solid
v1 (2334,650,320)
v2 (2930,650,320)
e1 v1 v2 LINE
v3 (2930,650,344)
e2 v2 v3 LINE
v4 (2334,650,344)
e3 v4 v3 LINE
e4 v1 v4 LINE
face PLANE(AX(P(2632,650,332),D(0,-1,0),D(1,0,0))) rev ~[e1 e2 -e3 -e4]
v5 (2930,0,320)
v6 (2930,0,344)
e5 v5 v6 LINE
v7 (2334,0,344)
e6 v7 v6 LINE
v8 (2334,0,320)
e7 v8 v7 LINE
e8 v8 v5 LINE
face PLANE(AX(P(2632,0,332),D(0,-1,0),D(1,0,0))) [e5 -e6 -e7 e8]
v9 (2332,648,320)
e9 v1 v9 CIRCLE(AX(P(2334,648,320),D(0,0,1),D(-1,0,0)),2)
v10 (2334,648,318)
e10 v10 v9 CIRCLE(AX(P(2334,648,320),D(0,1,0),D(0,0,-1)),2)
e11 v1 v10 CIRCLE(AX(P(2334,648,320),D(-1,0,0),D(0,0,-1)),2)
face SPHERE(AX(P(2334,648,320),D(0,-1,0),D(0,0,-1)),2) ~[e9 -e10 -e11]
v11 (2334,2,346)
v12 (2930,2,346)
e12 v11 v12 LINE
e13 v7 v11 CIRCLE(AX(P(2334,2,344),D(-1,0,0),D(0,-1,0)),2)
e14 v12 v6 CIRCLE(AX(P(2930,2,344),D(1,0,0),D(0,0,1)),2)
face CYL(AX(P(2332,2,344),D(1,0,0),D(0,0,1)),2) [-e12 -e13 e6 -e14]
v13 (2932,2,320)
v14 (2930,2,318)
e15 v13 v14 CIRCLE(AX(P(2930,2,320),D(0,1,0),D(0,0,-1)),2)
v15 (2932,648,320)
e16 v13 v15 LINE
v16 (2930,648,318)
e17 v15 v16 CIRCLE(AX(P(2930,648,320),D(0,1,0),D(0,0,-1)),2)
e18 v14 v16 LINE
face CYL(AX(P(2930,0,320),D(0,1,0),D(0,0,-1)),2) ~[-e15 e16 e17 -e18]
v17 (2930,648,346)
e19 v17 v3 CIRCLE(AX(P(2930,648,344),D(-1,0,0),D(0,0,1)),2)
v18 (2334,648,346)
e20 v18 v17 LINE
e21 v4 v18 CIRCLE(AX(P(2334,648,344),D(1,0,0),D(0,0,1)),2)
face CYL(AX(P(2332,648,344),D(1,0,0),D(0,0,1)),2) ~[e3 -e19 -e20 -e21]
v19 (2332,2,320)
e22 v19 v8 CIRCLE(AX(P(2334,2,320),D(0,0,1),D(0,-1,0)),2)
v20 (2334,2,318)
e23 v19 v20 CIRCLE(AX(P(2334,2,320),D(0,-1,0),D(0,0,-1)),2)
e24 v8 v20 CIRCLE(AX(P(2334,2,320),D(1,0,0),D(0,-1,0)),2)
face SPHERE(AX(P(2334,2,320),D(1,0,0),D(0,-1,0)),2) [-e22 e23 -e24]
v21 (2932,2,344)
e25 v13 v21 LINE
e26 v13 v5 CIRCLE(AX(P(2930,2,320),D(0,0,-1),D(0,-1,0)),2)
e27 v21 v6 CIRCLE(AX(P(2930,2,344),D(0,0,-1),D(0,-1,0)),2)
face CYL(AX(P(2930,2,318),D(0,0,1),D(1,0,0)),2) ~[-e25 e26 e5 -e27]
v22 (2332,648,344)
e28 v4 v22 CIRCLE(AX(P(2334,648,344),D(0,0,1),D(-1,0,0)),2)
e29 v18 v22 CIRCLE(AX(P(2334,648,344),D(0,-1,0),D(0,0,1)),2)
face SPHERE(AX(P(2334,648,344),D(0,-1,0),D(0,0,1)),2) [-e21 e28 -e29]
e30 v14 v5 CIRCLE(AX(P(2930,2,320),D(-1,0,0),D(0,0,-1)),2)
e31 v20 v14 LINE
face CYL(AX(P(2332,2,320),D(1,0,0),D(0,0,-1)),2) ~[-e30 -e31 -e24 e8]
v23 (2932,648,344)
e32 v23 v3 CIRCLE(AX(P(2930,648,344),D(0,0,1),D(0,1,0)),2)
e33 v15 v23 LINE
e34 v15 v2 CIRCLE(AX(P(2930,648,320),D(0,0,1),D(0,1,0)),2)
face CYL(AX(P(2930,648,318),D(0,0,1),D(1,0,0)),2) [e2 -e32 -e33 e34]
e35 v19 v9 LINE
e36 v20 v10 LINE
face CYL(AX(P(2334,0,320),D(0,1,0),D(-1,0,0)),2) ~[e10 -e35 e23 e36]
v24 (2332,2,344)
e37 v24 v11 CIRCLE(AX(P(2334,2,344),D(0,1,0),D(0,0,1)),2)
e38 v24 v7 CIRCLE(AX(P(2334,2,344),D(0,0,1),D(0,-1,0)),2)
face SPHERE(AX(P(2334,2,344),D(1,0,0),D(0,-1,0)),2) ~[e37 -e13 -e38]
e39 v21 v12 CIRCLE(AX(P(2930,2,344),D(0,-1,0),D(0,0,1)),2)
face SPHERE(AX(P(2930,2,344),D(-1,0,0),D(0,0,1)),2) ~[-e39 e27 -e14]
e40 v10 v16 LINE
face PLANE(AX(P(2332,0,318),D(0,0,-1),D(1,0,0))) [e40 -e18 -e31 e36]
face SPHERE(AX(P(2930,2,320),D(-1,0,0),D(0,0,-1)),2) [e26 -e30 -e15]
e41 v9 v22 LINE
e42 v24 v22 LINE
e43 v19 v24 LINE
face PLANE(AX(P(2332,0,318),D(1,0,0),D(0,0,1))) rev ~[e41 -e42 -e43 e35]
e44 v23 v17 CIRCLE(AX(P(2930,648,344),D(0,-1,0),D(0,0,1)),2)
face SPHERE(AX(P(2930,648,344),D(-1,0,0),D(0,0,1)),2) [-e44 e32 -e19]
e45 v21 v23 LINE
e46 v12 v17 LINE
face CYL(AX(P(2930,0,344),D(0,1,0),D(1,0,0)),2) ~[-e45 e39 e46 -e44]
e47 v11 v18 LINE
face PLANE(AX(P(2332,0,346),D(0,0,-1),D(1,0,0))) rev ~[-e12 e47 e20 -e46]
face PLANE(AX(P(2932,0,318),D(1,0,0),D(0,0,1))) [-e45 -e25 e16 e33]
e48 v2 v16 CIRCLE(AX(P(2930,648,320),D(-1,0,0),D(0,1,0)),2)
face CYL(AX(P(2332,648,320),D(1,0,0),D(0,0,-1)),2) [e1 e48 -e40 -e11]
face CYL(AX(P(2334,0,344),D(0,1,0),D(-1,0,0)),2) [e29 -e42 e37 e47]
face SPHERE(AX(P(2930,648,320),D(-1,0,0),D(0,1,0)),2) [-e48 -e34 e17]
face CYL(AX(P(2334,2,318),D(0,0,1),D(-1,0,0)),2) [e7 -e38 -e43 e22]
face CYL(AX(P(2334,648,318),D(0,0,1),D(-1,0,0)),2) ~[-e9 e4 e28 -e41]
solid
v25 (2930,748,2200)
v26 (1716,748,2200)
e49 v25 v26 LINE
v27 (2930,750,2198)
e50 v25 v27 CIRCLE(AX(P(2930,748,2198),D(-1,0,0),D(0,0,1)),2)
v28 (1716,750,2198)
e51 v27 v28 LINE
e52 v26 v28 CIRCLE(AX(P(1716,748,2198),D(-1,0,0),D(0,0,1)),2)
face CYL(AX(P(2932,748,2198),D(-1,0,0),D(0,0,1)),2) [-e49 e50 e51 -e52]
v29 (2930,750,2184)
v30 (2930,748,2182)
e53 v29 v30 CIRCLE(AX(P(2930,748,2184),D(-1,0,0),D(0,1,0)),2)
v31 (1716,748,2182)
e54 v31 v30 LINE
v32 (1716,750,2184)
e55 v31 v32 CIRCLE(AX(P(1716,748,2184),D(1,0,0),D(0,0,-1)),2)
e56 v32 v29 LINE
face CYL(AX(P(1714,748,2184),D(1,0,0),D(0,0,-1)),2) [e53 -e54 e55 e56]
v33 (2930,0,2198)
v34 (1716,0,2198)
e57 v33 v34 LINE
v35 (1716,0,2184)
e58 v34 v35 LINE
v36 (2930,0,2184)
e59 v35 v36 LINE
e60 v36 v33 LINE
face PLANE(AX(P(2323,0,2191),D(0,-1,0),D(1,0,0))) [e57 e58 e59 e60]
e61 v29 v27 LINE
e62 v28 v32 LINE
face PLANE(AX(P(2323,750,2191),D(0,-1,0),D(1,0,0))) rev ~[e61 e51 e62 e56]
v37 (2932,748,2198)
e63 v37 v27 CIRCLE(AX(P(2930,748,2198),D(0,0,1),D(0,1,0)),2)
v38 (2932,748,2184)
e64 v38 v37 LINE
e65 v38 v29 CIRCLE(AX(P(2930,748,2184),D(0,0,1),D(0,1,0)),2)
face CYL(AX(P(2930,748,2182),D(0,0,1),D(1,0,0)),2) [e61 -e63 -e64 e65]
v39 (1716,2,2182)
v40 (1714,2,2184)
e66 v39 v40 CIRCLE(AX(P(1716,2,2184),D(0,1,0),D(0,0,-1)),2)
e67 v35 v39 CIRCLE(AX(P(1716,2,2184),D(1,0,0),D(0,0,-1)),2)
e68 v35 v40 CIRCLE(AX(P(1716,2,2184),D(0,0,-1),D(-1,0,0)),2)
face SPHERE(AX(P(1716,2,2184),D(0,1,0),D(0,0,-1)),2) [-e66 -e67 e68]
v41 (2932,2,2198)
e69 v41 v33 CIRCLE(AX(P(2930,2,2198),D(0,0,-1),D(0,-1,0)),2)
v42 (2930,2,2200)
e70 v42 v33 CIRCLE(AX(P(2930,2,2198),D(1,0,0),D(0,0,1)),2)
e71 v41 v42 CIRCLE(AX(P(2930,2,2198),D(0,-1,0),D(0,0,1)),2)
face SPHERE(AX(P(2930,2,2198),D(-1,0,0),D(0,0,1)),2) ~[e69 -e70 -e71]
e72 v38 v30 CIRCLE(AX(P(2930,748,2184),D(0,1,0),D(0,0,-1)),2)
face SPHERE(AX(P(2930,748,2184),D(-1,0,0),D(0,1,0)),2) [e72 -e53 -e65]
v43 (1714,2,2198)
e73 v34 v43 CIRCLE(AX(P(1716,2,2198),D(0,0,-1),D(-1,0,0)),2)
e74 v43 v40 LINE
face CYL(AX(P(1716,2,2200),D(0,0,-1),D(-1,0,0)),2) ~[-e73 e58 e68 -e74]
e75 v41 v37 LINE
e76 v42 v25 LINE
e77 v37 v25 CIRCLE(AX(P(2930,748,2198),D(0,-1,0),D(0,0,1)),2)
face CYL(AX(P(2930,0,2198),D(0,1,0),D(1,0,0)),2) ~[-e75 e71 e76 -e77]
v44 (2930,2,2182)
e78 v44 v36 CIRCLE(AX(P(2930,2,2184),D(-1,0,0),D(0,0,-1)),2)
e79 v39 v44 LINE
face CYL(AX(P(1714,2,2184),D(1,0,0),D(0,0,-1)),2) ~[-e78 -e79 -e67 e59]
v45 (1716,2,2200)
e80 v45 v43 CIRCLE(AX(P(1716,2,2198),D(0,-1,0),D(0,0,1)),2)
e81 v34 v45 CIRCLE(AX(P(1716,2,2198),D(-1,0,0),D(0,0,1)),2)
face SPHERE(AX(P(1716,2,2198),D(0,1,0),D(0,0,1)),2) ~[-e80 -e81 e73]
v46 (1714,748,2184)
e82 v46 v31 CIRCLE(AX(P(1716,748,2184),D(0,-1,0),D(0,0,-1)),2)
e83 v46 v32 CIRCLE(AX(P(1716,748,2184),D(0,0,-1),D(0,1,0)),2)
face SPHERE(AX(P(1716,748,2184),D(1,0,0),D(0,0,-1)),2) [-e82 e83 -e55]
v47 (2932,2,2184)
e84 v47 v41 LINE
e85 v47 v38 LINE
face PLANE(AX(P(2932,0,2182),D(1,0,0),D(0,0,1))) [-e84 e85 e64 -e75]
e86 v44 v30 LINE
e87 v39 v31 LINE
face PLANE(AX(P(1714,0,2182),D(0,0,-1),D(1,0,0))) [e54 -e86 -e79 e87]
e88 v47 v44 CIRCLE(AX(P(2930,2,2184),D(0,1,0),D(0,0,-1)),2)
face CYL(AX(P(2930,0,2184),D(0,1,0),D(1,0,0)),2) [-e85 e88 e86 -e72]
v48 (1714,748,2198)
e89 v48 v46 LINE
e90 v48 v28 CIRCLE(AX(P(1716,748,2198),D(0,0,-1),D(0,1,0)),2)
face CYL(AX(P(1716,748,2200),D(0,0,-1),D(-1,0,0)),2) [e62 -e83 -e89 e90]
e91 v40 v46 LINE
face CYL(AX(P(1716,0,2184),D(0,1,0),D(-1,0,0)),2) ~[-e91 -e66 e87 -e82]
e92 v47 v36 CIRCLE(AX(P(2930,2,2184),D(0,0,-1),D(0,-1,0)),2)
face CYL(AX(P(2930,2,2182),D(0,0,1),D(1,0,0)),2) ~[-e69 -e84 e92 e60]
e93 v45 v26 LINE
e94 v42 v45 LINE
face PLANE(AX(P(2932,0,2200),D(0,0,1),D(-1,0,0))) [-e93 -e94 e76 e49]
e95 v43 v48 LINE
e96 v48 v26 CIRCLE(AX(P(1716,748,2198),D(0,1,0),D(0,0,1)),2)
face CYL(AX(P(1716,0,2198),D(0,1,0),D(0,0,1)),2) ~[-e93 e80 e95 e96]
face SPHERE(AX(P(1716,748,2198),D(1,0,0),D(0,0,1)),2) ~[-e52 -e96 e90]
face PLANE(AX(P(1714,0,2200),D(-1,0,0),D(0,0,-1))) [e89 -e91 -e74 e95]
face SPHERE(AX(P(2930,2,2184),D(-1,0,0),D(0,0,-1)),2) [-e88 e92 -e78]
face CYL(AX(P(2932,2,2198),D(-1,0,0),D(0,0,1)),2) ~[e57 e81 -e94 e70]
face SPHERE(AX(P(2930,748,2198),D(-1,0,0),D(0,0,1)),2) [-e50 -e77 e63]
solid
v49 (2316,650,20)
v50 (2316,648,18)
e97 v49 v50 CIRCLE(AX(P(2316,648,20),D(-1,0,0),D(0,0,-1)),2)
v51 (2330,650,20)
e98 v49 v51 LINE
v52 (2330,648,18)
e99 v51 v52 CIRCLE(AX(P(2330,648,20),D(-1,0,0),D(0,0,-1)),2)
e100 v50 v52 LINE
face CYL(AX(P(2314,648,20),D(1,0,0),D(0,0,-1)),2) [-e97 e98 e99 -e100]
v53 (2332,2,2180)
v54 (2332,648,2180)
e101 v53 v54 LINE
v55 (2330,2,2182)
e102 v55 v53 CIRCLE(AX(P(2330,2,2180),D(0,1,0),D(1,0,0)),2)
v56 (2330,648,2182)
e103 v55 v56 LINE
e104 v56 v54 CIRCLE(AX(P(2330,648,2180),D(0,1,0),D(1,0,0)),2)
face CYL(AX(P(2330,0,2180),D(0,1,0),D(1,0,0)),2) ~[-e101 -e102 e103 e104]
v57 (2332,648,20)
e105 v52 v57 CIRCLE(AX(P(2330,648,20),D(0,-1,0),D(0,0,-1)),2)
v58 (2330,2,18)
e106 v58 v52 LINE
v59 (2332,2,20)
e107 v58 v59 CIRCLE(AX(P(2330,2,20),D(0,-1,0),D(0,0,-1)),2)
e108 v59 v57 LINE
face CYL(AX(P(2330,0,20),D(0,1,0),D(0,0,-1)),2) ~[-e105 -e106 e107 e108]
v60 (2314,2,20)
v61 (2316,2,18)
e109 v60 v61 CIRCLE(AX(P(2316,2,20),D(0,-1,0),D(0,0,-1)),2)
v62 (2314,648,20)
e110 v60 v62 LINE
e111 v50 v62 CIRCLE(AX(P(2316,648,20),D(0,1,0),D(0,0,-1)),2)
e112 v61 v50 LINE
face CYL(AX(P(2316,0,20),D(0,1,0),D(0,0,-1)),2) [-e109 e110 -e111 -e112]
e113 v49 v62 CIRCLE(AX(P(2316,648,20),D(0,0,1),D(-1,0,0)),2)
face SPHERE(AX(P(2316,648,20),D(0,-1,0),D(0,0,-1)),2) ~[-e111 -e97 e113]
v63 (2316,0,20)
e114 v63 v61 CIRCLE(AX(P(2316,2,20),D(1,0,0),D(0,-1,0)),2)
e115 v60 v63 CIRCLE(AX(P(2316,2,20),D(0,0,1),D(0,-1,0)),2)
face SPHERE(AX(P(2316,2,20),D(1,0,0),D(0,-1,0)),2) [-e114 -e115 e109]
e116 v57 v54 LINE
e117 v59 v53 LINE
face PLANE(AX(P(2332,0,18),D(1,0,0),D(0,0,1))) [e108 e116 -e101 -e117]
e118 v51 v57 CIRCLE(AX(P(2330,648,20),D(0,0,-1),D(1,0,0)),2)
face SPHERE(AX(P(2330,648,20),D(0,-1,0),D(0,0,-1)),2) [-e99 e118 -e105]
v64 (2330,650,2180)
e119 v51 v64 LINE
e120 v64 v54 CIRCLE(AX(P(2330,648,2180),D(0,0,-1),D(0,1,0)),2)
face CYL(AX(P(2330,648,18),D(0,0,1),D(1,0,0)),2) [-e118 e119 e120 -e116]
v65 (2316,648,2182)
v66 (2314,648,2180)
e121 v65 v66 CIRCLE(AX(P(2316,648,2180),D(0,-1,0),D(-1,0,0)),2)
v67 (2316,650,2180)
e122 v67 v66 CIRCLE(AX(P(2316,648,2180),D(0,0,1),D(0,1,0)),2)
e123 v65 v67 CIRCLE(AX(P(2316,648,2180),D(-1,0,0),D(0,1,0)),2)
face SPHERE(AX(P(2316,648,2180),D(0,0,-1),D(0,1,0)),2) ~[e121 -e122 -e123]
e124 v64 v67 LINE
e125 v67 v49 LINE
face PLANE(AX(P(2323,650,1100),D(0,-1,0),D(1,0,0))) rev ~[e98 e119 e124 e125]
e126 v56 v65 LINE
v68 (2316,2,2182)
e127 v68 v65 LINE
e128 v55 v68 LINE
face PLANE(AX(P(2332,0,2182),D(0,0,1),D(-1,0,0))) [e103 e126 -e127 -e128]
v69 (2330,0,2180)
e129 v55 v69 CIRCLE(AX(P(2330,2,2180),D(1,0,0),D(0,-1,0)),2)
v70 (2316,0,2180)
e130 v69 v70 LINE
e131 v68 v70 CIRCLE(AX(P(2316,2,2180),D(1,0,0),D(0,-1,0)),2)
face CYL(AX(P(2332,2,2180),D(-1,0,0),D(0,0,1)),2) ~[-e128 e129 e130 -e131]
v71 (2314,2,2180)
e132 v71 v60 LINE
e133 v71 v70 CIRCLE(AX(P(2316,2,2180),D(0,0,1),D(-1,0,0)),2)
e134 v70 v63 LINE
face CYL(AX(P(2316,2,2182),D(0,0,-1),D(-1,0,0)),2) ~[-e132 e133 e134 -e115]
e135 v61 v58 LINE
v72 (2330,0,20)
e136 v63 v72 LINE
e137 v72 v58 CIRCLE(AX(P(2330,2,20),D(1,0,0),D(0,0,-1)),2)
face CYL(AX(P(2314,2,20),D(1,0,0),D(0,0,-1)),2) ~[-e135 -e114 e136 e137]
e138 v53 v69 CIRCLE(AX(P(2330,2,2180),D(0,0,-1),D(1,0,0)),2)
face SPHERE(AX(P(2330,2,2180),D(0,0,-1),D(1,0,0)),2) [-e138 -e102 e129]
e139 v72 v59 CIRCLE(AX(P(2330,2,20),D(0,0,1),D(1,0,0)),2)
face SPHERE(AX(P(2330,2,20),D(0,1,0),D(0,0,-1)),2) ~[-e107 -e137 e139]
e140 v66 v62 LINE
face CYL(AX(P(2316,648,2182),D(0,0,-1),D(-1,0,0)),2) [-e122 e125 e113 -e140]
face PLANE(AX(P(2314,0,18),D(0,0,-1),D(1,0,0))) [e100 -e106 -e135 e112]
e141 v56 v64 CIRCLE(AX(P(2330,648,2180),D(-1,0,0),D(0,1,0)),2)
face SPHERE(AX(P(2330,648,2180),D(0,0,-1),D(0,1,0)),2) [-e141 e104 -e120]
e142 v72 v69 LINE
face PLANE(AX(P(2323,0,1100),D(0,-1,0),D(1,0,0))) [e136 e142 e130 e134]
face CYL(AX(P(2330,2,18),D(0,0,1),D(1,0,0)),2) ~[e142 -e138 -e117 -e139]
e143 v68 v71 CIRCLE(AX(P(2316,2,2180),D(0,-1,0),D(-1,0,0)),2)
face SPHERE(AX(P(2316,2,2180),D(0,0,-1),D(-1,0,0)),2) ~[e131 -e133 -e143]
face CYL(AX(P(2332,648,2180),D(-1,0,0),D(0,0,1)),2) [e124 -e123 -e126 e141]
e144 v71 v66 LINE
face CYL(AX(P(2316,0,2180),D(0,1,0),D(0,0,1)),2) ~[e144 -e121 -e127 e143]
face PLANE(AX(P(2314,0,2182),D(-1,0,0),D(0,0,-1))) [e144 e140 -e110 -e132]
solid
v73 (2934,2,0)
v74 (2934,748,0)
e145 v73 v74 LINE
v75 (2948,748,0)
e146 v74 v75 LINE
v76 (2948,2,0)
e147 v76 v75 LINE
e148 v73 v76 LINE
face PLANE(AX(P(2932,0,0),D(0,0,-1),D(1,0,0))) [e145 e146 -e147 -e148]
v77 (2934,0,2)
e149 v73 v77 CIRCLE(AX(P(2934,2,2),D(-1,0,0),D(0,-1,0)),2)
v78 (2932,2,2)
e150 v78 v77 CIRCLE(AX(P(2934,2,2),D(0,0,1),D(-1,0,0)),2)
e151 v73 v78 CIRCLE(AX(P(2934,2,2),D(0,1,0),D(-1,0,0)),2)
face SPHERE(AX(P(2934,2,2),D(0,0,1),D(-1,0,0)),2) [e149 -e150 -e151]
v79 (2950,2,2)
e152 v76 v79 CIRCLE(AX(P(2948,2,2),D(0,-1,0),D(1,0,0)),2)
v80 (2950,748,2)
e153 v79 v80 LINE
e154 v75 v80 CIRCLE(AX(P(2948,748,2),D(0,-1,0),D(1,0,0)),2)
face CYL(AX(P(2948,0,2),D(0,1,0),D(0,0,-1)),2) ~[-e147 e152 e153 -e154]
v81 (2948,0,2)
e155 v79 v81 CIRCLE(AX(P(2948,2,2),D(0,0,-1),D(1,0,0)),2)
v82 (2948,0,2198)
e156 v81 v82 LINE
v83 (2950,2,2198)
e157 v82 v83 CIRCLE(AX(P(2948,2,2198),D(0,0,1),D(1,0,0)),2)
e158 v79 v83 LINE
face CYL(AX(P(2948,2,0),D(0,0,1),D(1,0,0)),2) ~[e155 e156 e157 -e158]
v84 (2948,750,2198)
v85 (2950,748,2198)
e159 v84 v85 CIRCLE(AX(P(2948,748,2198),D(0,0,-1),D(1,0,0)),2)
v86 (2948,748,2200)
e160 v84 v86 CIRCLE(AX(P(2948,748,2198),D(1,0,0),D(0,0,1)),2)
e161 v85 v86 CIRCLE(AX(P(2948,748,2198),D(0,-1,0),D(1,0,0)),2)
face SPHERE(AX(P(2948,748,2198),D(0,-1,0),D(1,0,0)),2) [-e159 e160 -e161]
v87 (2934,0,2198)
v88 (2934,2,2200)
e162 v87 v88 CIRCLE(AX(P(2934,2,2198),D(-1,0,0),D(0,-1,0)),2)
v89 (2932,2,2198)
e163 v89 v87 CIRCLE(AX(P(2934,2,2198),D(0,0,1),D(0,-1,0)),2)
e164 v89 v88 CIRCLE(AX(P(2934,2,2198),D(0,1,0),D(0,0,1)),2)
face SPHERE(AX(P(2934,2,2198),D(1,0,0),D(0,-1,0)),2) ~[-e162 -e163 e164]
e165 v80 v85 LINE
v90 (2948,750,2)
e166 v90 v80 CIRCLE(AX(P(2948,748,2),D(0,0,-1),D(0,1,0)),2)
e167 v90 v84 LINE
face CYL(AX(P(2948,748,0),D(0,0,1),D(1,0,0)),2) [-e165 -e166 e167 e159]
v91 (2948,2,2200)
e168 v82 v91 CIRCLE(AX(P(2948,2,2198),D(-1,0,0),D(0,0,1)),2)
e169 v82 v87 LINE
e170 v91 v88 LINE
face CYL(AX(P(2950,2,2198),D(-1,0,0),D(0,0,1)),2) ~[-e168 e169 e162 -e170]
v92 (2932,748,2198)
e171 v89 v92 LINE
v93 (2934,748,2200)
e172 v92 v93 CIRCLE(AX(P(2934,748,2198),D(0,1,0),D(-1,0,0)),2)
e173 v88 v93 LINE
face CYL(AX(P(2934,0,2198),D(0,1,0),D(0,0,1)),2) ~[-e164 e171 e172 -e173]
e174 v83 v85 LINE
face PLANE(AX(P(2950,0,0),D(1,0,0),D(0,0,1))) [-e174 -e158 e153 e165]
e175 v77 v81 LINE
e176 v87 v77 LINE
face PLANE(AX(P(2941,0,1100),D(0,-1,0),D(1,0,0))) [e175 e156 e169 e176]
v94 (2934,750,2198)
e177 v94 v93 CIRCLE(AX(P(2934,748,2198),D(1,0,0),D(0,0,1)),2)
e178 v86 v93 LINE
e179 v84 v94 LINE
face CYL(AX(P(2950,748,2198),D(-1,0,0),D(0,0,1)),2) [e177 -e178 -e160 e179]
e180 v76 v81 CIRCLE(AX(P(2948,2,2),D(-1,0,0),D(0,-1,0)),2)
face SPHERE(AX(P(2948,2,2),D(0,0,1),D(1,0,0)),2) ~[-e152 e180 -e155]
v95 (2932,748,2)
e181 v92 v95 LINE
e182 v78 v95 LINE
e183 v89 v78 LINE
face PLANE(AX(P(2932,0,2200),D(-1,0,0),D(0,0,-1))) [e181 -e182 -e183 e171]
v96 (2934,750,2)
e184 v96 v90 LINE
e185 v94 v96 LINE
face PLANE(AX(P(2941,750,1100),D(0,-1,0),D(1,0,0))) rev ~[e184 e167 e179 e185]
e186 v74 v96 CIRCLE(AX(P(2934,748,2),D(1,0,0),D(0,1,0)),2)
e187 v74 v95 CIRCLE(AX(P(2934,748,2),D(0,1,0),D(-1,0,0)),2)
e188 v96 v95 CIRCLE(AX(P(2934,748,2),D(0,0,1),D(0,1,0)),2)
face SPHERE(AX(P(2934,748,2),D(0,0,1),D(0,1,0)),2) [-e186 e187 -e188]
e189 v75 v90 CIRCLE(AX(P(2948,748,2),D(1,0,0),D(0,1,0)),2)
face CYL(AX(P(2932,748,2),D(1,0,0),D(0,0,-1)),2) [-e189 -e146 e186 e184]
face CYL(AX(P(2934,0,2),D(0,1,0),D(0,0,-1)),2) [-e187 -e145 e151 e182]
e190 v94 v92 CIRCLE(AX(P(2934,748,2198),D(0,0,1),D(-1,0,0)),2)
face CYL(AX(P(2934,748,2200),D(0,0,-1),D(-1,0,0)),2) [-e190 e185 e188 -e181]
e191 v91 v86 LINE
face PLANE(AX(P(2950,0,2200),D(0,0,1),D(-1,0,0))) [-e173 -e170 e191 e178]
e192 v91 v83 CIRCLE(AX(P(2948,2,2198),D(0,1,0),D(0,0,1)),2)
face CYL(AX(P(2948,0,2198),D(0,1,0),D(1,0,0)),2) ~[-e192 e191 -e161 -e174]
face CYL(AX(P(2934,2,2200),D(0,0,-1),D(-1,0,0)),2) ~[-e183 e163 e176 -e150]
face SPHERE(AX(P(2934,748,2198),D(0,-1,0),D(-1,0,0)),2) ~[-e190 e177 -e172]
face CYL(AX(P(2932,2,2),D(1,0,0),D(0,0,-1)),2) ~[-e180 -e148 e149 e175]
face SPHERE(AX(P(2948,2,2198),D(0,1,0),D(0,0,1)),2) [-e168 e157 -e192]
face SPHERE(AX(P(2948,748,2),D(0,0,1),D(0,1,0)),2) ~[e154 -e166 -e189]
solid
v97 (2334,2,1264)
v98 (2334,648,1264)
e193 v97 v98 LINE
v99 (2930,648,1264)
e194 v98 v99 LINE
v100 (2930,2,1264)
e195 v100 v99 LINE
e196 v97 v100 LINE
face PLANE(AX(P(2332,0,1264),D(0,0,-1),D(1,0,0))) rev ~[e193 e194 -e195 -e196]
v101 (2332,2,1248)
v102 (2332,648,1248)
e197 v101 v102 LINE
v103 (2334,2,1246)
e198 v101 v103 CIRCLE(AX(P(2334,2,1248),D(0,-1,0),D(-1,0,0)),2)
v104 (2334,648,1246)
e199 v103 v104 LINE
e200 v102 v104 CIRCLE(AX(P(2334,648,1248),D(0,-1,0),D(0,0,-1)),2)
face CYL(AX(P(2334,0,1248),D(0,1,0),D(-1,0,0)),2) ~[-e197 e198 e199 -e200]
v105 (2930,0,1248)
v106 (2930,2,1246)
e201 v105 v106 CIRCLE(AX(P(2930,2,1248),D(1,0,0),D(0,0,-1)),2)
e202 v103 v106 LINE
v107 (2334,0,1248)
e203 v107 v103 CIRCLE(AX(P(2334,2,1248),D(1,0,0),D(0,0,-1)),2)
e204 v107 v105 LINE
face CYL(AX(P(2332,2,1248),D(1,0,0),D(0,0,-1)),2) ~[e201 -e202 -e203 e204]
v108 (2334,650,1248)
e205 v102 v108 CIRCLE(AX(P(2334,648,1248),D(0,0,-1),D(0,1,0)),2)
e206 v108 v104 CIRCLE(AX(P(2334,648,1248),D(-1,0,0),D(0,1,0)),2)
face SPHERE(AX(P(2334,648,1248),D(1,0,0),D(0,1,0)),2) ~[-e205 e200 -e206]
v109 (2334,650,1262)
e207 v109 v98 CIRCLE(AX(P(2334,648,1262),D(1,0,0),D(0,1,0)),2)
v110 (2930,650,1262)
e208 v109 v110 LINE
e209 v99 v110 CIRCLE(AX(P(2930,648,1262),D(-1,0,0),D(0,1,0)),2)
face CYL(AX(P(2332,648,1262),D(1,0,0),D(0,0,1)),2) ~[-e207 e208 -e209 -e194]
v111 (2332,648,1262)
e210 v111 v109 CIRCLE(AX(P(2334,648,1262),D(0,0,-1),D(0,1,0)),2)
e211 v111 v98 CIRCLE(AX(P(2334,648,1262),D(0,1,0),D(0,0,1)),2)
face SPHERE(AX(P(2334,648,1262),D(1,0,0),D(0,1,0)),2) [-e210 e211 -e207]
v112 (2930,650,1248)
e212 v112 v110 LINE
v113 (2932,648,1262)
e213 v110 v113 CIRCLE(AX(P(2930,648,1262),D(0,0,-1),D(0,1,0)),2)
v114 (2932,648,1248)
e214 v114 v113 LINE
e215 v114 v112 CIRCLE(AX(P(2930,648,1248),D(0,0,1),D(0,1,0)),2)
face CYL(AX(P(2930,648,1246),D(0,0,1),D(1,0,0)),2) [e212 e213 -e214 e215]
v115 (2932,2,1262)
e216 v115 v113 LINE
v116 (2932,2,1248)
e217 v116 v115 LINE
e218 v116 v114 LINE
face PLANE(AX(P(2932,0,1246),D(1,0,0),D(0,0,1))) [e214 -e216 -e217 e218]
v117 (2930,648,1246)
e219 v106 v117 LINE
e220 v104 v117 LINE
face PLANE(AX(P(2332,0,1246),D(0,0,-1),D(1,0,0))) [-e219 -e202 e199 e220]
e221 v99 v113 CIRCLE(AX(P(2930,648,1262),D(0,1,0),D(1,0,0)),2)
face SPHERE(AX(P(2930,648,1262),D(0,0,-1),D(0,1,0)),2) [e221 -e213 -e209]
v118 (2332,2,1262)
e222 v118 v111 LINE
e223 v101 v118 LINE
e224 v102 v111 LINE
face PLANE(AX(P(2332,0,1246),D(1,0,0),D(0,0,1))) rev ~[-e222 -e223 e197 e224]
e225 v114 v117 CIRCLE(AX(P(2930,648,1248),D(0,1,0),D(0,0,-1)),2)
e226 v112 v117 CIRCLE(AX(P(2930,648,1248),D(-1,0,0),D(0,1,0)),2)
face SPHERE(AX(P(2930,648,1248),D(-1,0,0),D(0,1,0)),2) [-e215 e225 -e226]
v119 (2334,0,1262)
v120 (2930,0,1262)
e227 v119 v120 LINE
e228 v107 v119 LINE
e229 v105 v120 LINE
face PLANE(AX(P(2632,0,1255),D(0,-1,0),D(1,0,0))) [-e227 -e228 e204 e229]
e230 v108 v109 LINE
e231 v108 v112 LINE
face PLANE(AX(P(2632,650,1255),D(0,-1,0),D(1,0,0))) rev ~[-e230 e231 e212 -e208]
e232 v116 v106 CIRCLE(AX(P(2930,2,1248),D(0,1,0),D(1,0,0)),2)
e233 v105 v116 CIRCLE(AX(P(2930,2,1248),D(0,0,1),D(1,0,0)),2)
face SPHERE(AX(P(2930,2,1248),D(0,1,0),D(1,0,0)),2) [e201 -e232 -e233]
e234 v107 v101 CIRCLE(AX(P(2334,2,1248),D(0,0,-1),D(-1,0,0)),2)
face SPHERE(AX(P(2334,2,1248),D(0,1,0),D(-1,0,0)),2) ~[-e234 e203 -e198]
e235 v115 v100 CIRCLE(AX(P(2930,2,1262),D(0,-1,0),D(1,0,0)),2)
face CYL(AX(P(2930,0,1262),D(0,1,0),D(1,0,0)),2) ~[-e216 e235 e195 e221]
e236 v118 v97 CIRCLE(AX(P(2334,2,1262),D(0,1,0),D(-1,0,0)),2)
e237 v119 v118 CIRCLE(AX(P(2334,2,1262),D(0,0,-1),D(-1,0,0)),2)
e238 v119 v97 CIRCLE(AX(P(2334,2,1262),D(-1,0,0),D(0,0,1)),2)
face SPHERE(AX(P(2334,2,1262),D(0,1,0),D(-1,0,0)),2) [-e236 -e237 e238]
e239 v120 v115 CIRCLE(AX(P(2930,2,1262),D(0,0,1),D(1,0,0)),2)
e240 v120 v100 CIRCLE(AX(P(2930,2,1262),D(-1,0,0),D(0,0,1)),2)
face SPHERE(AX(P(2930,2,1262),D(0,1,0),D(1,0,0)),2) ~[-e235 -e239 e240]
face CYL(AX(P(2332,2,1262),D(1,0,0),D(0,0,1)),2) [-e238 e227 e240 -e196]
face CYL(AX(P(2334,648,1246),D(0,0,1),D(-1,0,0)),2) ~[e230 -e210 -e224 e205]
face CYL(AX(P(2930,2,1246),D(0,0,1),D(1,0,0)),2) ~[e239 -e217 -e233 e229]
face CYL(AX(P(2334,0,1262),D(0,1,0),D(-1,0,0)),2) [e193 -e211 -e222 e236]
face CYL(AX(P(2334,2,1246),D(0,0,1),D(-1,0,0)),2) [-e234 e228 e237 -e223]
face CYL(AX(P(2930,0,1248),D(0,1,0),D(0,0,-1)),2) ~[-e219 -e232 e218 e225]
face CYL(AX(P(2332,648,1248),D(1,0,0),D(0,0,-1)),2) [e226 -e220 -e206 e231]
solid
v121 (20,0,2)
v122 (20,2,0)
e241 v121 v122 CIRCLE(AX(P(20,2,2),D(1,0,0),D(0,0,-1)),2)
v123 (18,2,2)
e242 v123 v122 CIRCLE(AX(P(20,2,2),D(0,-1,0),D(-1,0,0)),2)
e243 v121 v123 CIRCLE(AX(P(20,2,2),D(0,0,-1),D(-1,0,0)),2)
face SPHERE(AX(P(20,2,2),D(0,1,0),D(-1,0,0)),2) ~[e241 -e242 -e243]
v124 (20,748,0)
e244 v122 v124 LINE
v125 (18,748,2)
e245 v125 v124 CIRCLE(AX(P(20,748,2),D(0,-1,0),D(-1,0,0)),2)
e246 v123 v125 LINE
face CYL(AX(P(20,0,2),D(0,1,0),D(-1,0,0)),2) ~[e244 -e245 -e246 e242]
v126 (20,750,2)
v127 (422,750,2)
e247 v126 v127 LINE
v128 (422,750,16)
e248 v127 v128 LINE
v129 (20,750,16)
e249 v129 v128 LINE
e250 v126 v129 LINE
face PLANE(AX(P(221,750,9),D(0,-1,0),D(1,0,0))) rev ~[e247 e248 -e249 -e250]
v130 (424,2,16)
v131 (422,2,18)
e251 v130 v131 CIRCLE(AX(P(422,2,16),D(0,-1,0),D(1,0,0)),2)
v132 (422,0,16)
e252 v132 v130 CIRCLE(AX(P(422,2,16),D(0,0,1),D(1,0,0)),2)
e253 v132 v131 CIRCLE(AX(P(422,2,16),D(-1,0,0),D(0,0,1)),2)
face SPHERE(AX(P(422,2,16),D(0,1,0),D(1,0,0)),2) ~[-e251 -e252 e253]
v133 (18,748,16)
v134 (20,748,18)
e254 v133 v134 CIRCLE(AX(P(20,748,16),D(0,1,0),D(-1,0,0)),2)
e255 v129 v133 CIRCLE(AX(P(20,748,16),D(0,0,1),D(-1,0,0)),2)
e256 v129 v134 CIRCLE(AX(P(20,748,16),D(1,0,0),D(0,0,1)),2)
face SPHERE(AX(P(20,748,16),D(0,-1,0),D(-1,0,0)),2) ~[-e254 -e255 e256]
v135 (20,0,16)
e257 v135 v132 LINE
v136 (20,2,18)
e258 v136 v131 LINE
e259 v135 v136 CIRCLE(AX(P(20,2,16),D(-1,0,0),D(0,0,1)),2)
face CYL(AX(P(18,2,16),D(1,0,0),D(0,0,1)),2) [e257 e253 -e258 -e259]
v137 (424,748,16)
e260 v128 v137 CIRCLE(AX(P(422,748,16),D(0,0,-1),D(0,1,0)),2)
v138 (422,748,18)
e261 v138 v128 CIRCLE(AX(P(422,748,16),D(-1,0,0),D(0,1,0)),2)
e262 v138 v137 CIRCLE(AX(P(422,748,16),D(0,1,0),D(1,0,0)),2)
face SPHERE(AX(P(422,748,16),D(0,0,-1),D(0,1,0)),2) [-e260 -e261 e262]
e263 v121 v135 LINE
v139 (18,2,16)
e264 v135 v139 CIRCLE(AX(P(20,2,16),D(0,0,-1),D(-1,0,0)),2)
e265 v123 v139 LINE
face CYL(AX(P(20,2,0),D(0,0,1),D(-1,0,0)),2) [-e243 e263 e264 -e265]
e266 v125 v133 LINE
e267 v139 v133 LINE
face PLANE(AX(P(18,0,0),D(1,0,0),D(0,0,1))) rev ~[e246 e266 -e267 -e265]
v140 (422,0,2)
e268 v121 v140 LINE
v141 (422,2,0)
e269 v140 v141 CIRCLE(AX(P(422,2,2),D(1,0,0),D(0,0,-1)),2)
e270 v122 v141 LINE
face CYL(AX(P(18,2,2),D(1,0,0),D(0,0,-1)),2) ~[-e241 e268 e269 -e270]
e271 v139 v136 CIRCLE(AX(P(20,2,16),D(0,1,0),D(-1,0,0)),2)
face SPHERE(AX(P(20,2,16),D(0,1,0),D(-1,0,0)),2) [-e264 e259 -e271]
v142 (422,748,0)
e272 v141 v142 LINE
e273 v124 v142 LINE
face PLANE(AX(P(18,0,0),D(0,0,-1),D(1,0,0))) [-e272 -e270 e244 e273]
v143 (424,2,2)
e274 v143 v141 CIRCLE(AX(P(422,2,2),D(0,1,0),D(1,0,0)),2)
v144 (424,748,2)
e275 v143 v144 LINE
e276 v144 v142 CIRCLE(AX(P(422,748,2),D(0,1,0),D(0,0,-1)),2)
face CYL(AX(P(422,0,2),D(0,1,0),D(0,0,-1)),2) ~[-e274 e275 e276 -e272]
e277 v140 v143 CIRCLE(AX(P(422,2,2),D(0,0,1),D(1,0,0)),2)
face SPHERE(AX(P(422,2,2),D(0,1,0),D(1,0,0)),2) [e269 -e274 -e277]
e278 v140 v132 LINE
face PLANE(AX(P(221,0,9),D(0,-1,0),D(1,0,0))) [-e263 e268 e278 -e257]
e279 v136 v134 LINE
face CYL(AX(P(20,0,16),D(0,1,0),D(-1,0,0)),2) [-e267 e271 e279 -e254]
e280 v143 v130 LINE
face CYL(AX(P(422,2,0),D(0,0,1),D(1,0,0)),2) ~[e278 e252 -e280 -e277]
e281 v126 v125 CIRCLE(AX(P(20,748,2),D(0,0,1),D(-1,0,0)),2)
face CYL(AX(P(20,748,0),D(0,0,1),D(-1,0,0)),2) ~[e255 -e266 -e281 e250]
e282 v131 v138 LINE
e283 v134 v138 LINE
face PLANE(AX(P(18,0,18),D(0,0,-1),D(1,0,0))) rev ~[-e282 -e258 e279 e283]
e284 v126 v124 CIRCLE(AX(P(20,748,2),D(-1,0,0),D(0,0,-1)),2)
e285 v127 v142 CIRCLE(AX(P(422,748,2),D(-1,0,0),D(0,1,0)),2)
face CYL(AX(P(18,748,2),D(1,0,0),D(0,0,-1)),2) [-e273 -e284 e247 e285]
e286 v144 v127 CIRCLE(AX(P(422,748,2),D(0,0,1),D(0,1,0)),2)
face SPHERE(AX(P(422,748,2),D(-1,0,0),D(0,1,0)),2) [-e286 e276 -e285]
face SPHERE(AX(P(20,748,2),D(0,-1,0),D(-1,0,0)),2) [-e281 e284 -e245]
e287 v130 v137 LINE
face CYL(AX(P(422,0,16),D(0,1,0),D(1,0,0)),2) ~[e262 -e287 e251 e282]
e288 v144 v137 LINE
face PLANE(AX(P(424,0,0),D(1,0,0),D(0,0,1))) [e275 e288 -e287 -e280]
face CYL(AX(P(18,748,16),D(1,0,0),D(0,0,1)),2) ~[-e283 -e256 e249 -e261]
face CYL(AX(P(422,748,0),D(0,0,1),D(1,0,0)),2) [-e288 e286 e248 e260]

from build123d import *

# Parameters (mm, degrees)
F1_DEPTH = 750
F0_W     = 600
F0_H     = 28
F2_DEPTH = 650
F0_H_2   = 18
F3_DEPTH = 650
F4_DEPTH = 750
F5_DEPTH = 650
F0_W_2   = 406
F6_DEPTH = 750
F7_R     = 2
F8_R     = 2
F8_2_R   = 2
F9_R     = 2
F10_R    = 2
F11_R    = 2


with BuildPart() as f1:
    # F0 (on Front) → F1 (new body)
    with BuildSketch(Plane.XZ):
        Polygon((2932, 0), (2950, 0), (2950, 2200), (2932, 2200), (2932, 2182), (2932, 1362), (2932, 1344), (2932, 1264), (2932, 1246), (2932, 346), (2932, 318), (2932, 18), align=None)
    extrude(amount=-F1_DEPTH)

    # F8
    f8_edges = [f1.edges().sort_by_distance(p)[0] for p in [
        (2950, 375, 2200),
        (2941, 0, 2200),
        (2950, 0, 1100),
        (2932, 0, 1100),
        (2932, 375, 2200),
        (2950, 750, 1100),
        (2932, 750, 1100),
        (2941, 750, 2200),
        (2941, 750, 0),
        (2950, 375, 0),
        (2932, 375, 0),
        (2941, 0, 0),
    ]]
    fillet(f8_edges, radius=F8_R)


with BuildPart() as f2:
    # F0 (on Front) → F2 (new body)
    with BuildSketch(Plane.XZ):
        with Locations((2632, 332)):
            Rectangle(F0_W, F0_H)
    extrude(amount=-F2_DEPTH)

    # F9
    f9_edges = [f2.edges().sort_by_distance(p)[0] for p in [
        (2632, 0, 318),
        (2632, 0, 346),
        (2332, 0, 332),
        (2332, 325, 346),
        (2332, 325, 318),
        (2632, 650, 346),
        (2632, 650, 318),
        (2332, 650, 332),
        (2932, 325, 346),
        (2932, 650, 332),
        (2932, 325, 318),
        (2932, 0, 332),
    ]]
    fillet(f9_edges, radius=F9_R)


with BuildPart() as f3:
    # F0 (on Front) → F3 (new body)
    with BuildSketch(Plane.XZ):
        with Locations((2632, 1255)):
            Rectangle(F0_W, F0_H_2)
    extrude(amount=-F3_DEPTH)

    # F10
    f10_edges = [f3.edges().sort_by_distance(p)[0] for p in [
        (2632, 650, 1246),
        (2932, 650, 1255),
        (2632, 650, 1264),
        (2332, 650, 1255),
        (2932, 325, 1246),
        (2932, 325, 1264),
        (2932, 0, 1255),
        (2332, 325, 1264),
        (2332, 325, 1246),
        (2332, 0, 1255),
        (2632, 0, 1246),
        (2632, 0, 1264),
    ]]
    fillet(f10_edges, radius=F10_R)


with BuildPart() as f4:
    # F0 (on Front) → F4 (new body)
    with BuildSketch(Plane.XZ):
        Polygon((2932, 2182), (2932, 2200), (1714, 2200), (1714, 2182), (2314, 2182), (2332, 2182), align=None)
    extrude(amount=-F4_DEPTH)

    # F7
    f7_edges = [f4.edges().sort_by_distance(p)[0] for p in [
        (2323, 750, 2200),
        (1714, 375, 2200),
        (2323, 750, 2182),
        (1714, 375, 2182),
        (2323, 0, 2200),
        (2323, 0, 2182),
        (1714, 0, 2191),
        (1714, 750, 2191),
        (2932, 375, 2200),
        (2932, 750, 2191),
        (2932, 375, 2182),
        (2932, 0, 2191),
    ]]
    fillet(f7_edges, radius=F7_R)


with BuildPart() as f5:
    # F0 (on Front) → F5 (new body)
    with BuildSketch(Plane.XZ):
        Polygon((2314, 18), (2332, 18), (2332, 318), (2332, 346), (2332, 1246), (2332, 1264), (2332, 1344), (2332, 1362), (2332, 2182), (2314, 2182), (2314, 1362), (2314, 1344), (2314, 1264), (2314, 1246), (2314, 346), (2314, 318), align=None)
    extrude(amount=-F5_DEPTH)

    # F8#2
    f8_2_edges = [f5.edges().sort_by_distance(p)[0] for p in [
        (2332, 325, 18),
        (2323, 0, 18),
        (2314, 0, 1100),
        (2314, 325, 18),
        (2332, 0, 1100),
        (2323, 650, 18),
        (2314, 650, 1100),
        (2332, 650, 1100),
        (2323, 650, 2182),
        (2314, 325, 2182),
        (2332, 325, 2182),
        (2323, 0, 2182),
    ]]
    fillet(f8_2_edges, radius=F8_2_R)


with BuildPart() as f6:
    # F0 (on Front) → F6 (new body)
    with BuildSketch(Plane.XZ):
        with Locations((221, 9)):
            Rectangle(F0_W_2, F0_H_2)
    extrude(amount=-F6_DEPTH)

    # F11
    f11_edges = [f6.edges().sort_by_distance(p)[0] for p in [
        (18, 375, 18),
        (18, 375, 0),
        (18, 0, 9),
        (18, 750, 9),
        (221, 750, 0),
        (424, 750, 9),
        (221, 750, 18),
        (424, 375, 0),
        (424, 375, 18),
        (424, 0, 9),
        (221, 0, 0),
        (221, 0, 18),
    ]]
    fillet(f11_edges, radius=F11_R)


solid = Compound([f1.part, f2.part, f3.part, f4.part, f5.part, f6.part])
